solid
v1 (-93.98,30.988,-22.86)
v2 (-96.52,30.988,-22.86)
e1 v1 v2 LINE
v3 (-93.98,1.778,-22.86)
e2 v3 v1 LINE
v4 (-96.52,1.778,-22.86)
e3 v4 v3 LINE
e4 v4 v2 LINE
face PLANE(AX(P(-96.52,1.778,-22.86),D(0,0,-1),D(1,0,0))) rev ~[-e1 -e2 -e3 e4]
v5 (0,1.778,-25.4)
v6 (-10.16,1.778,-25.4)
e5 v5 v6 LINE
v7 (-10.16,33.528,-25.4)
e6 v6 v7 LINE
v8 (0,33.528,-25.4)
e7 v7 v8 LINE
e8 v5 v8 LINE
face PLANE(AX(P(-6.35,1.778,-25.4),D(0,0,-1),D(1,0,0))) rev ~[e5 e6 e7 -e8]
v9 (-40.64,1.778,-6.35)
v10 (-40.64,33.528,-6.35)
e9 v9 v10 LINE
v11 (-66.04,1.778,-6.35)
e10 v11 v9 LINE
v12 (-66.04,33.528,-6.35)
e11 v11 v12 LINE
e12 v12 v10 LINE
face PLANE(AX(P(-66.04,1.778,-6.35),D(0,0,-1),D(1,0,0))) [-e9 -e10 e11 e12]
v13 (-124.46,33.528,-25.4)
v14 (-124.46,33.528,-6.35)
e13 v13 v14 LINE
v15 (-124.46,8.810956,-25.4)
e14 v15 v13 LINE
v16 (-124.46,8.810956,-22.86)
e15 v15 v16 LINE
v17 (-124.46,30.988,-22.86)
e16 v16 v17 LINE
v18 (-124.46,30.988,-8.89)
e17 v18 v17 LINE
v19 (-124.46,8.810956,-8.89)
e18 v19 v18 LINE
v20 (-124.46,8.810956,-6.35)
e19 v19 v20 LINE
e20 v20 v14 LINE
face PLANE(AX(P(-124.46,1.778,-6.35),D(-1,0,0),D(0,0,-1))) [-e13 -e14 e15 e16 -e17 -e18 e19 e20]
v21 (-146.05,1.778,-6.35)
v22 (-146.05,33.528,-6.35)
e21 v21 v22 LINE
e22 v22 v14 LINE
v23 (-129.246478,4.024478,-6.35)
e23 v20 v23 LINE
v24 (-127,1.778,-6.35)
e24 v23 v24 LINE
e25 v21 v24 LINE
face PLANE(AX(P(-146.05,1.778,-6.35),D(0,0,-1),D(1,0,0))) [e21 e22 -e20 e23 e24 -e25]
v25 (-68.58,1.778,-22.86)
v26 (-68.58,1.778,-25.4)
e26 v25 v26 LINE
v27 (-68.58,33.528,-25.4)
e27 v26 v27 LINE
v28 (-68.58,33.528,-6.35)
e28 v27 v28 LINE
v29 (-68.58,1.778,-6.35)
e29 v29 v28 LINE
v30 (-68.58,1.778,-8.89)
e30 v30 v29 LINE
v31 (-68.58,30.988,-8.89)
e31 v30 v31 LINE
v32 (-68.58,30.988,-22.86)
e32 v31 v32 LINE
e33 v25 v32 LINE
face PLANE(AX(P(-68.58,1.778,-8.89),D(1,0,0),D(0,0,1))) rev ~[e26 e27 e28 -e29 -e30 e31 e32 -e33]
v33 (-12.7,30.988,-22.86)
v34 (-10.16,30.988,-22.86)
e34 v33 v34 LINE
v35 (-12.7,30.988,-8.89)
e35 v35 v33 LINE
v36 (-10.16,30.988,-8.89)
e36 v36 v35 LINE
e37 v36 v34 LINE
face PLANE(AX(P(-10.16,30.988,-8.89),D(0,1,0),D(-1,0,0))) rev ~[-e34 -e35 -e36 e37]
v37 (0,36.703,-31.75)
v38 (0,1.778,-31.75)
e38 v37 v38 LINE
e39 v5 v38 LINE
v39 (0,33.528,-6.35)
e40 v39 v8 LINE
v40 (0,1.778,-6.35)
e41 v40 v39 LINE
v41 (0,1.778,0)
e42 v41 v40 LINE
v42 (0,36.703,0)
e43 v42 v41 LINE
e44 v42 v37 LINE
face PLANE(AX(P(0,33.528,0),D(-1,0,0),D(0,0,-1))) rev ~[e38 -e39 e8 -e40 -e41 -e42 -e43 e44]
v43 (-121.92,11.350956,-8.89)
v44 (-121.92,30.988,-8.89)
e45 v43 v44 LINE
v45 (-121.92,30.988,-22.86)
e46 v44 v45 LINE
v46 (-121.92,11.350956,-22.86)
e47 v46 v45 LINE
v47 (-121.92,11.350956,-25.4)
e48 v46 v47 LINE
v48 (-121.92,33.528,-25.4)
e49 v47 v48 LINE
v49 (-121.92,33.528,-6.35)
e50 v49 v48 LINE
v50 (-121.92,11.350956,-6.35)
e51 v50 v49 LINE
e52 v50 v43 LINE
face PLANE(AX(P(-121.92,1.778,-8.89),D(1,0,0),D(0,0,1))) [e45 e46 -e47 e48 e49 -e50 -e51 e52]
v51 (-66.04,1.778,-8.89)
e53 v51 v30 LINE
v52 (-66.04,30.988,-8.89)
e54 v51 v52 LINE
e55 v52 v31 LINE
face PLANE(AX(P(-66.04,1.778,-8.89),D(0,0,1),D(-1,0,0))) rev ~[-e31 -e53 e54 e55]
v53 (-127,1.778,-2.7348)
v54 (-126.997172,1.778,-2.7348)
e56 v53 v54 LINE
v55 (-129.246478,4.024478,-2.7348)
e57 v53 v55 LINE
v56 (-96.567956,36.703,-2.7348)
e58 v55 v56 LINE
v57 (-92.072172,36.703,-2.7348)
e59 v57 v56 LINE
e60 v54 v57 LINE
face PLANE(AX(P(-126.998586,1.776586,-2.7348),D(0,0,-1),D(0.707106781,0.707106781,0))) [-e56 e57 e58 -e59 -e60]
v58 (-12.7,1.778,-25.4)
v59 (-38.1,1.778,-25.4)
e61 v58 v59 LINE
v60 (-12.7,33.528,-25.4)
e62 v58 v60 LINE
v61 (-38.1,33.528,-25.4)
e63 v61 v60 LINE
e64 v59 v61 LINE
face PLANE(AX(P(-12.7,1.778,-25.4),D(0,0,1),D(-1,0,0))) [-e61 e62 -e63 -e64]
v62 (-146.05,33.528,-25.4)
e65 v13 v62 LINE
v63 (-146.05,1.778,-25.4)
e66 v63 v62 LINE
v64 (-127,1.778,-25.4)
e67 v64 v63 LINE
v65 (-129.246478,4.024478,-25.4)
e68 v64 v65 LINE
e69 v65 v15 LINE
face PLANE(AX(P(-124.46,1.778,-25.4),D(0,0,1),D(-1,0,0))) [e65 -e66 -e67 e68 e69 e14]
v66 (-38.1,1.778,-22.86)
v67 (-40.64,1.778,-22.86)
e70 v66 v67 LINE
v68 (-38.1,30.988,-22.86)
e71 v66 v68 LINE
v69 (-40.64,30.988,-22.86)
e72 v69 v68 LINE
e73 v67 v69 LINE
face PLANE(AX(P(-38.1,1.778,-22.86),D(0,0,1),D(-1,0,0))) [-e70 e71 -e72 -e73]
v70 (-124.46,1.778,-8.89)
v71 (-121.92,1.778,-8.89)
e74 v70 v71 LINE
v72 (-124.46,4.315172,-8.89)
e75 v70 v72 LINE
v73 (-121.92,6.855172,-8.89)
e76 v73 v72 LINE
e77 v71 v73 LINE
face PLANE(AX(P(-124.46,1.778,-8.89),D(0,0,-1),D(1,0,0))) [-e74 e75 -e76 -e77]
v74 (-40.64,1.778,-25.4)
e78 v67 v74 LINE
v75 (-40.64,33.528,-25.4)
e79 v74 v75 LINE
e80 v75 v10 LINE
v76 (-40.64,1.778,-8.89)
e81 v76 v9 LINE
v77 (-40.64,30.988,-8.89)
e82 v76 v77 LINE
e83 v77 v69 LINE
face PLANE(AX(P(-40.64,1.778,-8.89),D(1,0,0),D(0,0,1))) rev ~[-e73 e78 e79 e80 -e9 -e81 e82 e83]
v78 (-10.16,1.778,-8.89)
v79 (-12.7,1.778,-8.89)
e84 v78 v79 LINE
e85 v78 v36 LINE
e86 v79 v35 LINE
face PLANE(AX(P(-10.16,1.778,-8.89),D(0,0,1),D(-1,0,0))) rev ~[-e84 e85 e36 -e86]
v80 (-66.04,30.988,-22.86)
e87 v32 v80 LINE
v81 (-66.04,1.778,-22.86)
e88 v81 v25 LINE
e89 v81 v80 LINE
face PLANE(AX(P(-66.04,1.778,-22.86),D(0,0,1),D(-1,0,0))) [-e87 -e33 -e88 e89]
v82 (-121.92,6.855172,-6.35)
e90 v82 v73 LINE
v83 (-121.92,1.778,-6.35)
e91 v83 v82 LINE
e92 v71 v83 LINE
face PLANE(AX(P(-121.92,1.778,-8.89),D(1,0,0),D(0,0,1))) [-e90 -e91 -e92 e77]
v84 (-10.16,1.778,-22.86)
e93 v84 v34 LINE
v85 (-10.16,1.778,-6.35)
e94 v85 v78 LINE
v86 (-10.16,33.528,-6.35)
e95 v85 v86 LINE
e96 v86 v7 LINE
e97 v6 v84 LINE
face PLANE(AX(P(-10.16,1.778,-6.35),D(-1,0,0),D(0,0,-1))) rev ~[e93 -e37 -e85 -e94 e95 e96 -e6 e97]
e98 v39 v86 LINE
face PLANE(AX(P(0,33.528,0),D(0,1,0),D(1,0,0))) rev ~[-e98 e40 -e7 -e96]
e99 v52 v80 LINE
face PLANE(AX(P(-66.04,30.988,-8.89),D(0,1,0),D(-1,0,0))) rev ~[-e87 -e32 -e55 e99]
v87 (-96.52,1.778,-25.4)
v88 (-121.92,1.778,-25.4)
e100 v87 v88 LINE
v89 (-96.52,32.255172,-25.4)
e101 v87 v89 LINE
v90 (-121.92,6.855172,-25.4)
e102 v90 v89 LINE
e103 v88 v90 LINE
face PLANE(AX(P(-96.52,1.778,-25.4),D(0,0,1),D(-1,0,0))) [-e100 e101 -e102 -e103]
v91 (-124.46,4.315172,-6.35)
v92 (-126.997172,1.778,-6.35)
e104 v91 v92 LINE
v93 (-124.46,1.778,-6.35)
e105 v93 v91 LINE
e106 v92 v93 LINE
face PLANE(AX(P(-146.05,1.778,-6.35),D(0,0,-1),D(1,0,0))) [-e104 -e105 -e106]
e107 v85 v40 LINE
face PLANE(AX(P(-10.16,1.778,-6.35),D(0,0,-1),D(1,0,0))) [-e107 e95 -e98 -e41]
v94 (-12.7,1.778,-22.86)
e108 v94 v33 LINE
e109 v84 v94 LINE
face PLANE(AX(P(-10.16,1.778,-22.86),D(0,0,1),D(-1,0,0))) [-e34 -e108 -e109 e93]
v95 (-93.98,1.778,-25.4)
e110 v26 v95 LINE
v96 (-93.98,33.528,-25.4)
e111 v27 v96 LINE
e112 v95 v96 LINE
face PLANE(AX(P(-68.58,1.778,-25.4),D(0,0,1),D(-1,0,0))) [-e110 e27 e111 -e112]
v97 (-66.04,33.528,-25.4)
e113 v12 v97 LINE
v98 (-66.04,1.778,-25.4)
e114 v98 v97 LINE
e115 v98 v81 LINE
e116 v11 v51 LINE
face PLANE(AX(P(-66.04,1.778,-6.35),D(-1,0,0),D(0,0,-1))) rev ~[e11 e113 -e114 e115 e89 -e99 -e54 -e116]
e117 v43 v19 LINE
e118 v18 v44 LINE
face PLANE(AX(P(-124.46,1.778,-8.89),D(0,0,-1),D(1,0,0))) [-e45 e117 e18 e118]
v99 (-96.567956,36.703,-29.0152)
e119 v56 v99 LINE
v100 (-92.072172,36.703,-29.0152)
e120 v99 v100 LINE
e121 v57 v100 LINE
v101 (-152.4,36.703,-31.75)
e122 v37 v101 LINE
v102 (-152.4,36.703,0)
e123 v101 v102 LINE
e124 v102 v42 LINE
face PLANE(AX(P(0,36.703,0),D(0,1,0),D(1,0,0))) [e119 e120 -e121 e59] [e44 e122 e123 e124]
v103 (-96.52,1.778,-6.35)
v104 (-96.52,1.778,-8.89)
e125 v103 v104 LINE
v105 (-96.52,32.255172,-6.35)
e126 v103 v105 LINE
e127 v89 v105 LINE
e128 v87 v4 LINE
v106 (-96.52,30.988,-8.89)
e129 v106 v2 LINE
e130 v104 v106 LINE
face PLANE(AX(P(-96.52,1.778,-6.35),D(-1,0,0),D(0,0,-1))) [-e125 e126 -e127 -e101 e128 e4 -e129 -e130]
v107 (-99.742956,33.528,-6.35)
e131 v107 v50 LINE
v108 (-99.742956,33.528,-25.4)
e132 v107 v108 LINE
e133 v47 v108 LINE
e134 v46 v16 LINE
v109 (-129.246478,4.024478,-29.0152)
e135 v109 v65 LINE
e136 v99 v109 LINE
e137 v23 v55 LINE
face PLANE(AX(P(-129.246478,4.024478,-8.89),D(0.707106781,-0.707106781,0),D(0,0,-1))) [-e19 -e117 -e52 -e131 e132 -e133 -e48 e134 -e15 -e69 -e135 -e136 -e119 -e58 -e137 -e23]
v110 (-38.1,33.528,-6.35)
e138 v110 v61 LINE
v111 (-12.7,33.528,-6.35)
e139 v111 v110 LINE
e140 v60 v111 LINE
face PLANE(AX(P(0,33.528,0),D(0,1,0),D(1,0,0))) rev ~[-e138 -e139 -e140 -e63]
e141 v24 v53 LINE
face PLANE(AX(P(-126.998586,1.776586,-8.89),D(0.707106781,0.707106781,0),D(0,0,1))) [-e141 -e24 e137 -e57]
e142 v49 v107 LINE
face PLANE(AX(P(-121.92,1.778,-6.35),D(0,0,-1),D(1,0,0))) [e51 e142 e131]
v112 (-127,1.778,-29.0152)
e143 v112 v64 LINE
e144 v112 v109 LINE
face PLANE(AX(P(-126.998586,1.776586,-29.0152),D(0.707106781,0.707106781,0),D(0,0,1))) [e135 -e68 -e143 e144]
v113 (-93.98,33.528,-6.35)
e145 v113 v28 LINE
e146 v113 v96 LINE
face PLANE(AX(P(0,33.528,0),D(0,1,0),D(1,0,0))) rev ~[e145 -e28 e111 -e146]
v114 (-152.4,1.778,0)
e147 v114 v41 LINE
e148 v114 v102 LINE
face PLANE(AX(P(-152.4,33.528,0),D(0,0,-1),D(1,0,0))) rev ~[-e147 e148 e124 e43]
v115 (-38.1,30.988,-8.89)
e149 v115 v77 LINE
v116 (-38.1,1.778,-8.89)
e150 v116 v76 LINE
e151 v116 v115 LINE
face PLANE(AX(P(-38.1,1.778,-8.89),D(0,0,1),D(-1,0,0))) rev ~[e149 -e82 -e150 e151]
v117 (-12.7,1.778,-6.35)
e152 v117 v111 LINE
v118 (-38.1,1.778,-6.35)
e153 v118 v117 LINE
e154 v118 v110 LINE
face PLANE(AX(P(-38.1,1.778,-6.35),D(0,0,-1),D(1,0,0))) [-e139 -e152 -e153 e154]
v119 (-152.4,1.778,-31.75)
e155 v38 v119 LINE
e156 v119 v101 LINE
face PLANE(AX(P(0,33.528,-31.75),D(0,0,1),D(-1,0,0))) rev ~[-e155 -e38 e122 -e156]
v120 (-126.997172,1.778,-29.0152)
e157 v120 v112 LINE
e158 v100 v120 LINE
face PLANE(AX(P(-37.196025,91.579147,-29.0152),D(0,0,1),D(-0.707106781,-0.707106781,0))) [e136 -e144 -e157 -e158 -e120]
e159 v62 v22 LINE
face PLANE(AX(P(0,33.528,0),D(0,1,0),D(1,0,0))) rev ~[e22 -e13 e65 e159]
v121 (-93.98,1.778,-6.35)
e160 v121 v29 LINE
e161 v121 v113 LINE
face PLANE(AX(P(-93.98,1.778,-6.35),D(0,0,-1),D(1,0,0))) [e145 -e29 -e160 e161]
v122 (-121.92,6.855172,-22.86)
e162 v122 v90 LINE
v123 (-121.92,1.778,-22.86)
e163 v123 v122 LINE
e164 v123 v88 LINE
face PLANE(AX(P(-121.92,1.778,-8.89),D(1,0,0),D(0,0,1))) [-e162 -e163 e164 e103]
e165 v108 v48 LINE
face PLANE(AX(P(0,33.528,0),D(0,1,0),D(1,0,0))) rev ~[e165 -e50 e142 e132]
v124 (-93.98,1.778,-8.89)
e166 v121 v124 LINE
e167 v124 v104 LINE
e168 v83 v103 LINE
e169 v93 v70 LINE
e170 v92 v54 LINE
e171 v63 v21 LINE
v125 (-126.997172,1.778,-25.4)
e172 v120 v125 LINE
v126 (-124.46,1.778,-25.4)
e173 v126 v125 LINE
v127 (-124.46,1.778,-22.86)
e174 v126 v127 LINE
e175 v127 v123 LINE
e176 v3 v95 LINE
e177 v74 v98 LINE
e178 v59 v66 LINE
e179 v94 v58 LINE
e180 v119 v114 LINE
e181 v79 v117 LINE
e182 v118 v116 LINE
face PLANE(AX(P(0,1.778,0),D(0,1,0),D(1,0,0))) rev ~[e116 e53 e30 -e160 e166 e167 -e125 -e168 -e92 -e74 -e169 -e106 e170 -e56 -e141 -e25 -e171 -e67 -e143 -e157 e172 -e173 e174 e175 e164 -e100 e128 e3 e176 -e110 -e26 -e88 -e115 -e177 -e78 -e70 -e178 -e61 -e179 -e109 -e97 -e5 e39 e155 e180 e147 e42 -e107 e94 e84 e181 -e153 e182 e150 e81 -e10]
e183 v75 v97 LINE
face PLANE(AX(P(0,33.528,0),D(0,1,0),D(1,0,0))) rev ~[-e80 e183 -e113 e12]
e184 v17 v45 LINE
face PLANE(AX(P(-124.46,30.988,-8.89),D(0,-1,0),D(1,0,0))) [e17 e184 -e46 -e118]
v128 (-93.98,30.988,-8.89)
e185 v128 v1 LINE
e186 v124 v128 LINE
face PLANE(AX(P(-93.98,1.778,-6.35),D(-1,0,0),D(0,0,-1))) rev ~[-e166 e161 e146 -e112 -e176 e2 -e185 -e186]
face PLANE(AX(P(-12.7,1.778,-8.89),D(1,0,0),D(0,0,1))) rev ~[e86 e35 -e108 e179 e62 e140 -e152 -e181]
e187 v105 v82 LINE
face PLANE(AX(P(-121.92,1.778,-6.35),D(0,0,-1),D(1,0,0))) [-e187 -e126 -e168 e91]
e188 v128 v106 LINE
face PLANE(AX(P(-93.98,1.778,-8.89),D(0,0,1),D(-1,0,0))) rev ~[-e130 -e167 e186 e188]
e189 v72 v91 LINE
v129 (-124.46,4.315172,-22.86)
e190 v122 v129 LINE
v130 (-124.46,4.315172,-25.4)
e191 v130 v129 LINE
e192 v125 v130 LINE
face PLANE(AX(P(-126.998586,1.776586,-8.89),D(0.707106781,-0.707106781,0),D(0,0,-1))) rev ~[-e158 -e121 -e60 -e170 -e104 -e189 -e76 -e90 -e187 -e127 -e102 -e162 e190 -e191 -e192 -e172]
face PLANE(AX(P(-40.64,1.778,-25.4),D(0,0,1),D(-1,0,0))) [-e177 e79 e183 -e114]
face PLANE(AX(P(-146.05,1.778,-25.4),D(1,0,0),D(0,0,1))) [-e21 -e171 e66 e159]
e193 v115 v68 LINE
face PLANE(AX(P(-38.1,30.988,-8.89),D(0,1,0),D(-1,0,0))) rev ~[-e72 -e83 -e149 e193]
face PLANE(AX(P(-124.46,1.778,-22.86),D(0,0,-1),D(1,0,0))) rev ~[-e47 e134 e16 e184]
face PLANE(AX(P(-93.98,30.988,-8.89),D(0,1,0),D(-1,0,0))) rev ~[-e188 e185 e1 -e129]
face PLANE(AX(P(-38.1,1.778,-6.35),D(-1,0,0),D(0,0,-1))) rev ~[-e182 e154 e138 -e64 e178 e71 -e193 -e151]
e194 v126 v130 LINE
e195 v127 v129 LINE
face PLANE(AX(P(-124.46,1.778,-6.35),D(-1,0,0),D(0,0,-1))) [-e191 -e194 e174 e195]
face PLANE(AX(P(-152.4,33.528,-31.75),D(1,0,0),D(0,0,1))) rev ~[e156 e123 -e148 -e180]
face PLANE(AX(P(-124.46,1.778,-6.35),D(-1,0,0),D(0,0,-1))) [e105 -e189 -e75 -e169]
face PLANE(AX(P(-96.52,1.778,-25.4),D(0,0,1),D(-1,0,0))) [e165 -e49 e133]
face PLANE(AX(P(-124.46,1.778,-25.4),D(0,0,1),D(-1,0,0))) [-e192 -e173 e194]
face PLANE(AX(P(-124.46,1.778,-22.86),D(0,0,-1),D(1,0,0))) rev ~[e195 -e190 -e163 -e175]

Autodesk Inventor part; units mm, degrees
ref_plane "YZ Plane" through (0, 0, 0) normal (1, 0, 0) x (0, 1, 0)
ref_plane "XZ Plane" through (0, 0, 0) normal (0, 1, 0) x (-1, 0, 0)
ref_plane "XY Plane" through (0, 0, 0) normal (0, 0, 1) x (1, 0, 0)
sketch "Sketch1" plane through (0, 0, 0) normal (0, 1, 0) x (-1, 0, 0)
  line L0 (0, 0) -> (152.4, 0)
  line L1 (152.4, 0) -> (152.4, -31.75)
  line L2 (152.4, -31.75) -> (0, -31.75)
  line L3 (0, -31.75) -> (0, 0)
  line L4 (127, -8.89) -> (96.52, -8.89)
  line L5 (96.52, -8.89) -> (96.52, -22.86)
  line L6 (96.52, -22.86) -> (127, -22.86)
  line L7 (127, -22.86) -> (127, -8.89)
  line L8 (117.2368, -8.89) -> (117.2368, 0)
  line L9 (117.2368, -22.86) -> (117.2368, -31.75)
  dimension "d0" = 152.4
  dimension "d1" = 31.75
  dimension "d2" = 30.48
  dimension "d3" = 13.97
  dimension "d4" = 25.4
extrude "Extrusion1" add sketch "Sketch1" along normal blind 1.778 contours L0 L8 L4 L5 L6 L9 L2 L3 | L0 L1 L2 L9 L6 L7 L4 L8
sketch "Sketch2" plane through (0, 0, 0) normal (0, -1, 0) x (1, 0, 0)
  line L0 (-152.4, 0) -> (0, 0) projected
  line L1 (0, 0) -> (0, -31.75) projected
  line L2 (-152.4, 0) -> (0, 0)
  line L3 (0, 0) -> (0, -31.75)
  line L4 (0, -31.75) -> (-152.4, -31.75)
  line L5 (-152.4, -31.75) -> (-152.4, 0)
  line L6 (-127, -2.7348) -> (-96.52, -2.7348)
  line L7 (-96.52, -2.7348) -> (-96.52, -29.0152)
  line L8 (-96.52, -29.0152) -> (-127, -29.0152)
  line L9 (-127, -29.0152) -> (-127, -2.7348)
  line L10 (-127, -8.89) -> (-127, -22.86) projected
  line L11 (-103.8171, -2.7348) -> (-103.8171, 0)
  line L12 (-104.7941, -29.0152) -> (-104.7941, -31.75)
  line L13 (0, -31.75) -> (-152.4, -31.75) projected
  dimension "d7" = 30.48
  dimension "d8" = 0
extrude "Extrusion2" add sketch "Sketch2" along normal blind 1.778 contours L0 L11 L6 L9 L8 L12 L4 L5 | L0 L1 L4 L12 L8 L7 L6 L11
sketch "Sketch3" plane through (0, -1.778, 0) normal (0, -1, 0) x (1, 0, 0)
  line L0 (-152.4, 0) -> (0, 0) projected
  line L1 (0, -31.75) -> (-152.4, -31.75) projected
  line L2 (-152.4, 0) -> (0, 0)
  line L3 (0, 0) -> (0, -31.75)
  line L4 (0, -31.75) -> (-152.4, -31.75)
  line L5 (-152.4, -31.75) -> (-152.4, 0)
  line L6 (-1.5875, -30.1625) -> (-1.5875, -1.5875)
  line L7 (-1.5875, -1.5875) -> (-150.8125, -1.5875)
  line L8 (-150.8125, -1.5875) -> (-150.8125, -30.1625)
  line L9 (-150.8125, -30.1625) -> (-1.5875, -30.1625)
  dimension "d11" = 1.5875
extrude "Extrusion3" add sketch "Sketch3" along normal blind 6.35
sketch "Sketch4" plane through (0, 1.778, 0) normal (0, 1, 0) x (1, 0, 0)
  line L0 (-152.4, 0) -> (0, 0) projected
  line L1 (-152.4, 31.75) -> (-152.4, 0) projected
  line L2 (0, 0) -> (-152.4, 0)
  line L3 (-152.4, 0) -> (-152.4, 31.75)
  line L4 (-152.4, 31.75) -> (0, 31.75)
  line L5 (-6.35, 25.4) -> (-146.05, 25.4)
  line L6 (-146.05, 25.4) -> (-146.05, 6.35)
  line L7 (-146.05, 6.35) -> (-6.35, 6.35)
  line L8 (-13.5859, 25.4) -> (0, 25.4)
  line L9 (0, 0) -> (0, 31.75) projected
  line L10 (-13.5859, 6.35) -> (0, 6.35)
  line L11 (0, 31.75) -> (0, 25.4)
  line L12 (0, 6.35) -> (0, 0)
  line L13 (-127, 22.86) -> (-96.52, 22.86) projected
  line L14 (-96.52, 22.86) -> (-93.98, 22.86)
  line L15 (-93.98, 22.86) -> (-93.98, 25.4)
  line L16 (-93.98, 25.4) -> (-96.52, 25.4)
  line L17 (-96.52, 25.4) -> (-96.52, 22.86)
  line L18 (-96.52, 2.7348) -> (-96.52, 29.0152) projected
  line L19 (-96.52, 6.35) -> (-93.98, 6.35)
  line L20 (-93.98, 6.35) -> (-93.98, 8.89)
  line L21 (-93.98, 8.89) -> (-96.52, 8.89)
  line L22 (-96.52, 8.89) -> (-96.52, 6.35)
  line L23 (-121.92, 25.4) -> (-124.46, 25.4)
  line L24 (-124.46, 25.4) -> (-124.46, 22.86)
  line L25 (-124.46, 22.86) -> (-121.92, 22.86)
  line L26 (-121.92, 22.86) -> (-121.92, 25.4)
  line L27 (-121.92, 6.35) -> (-124.46, 6.35)
  line L28 (-124.46, 6.35) -> (-124.46, 8.89)
  line L29 (-124.46, 8.89) -> (-121.92, 8.89)
  line L30 (-121.92, 8.89) -> (-121.92, 6.35)
  line L31 (-68.58, 25.4) -> (-66.04, 25.4)
  line L32 (-66.04, 25.4) -> (-66.04, 22.86)
  line L33 (-66.04, 22.86) -> (-68.58, 22.86)
  line L34 (-68.58, 22.86) -> (-68.58, 25.4)
  line L35 (-68.58, 6.35) -> (-66.04, 6.35)
  line L36 (-66.04, 6.35) -> (-66.04, 8.89)
  line L37 (-66.04, 8.89) -> (-68.58, 8.89)
  line L38 (-68.58, 8.89) -> (-68.58, 6.35)
  line L39 (-40.64, 6.35) -> (-38.1, 6.35)
  line L40 (-38.1, 6.35) -> (-38.1, 8.89)
  line L41 (-38.1, 8.89) -> (-40.64, 8.89)
  line L42 (-40.64, 8.89) -> (-40.64, 6.35)
  line L43 (-40.64, 25.4) -> (-38.1, 25.4)
  line L44 (-38.1, 25.4) -> (-38.1, 22.86)
  line L45 (-38.1, 22.86) -> (-40.64, 22.86)
  line L46 (-40.64, 22.86) -> (-40.64, 25.4)
  line L47 (-12.7, 25.4) -> (-10.16, 25.4)
  line L48 (-10.16, 25.4) -> (-10.16, 22.86)
  line L49 (-10.16, 22.86) -> (-12.7, 22.86)
  line L50 (-12.7, 22.86) -> (-12.7, 25.4)
  line L51 (-12.7, 6.35) -> (-10.16, 6.35)
  line L52 (-10.16, 6.35) -> (-10.16, 8.89)
  line L53 (-10.16, 8.89) -> (-12.7, 8.89)
  line L54 (-12.7, 8.89) -> (-12.7, 6.35)
  point P0 (-121.92, 7.62)
  point P1 (-96.52, 7.62)
  point P2 (-93.98, 24.13)
  point P3 (-68.58, 24.13)
  point P4 (-40.64, 24.13)
  point P5 (-66.04, 24.13)
  point P6 (-12.7, 24.13)
  point P7 (-38.1, 24.13)
  point P8 (-6.35, 6.35)
  dimension "d14" = 6.35
  dimension "d15" = 2.54
  dimension "d16" = 2.54
  dimension "d17" = 2.54
  dimension "d18" = 2.54
  dimension "d19" = 2.54
  dimension "d20" = 2.54
  dimension "d21" = 25.4
  dimension "d22" = 2.54
  dimension "d23" = 2.54
  dimension "d24" = 2.54
  dimension "d25" = 2.54
  dimension "d26" = 2.54
  dimension "d27" = 2.54
  dimension "d28" = 2.54
  dimension "d29" = 2.54
  dimension "d30" = 2.54
  dimension "d31" = 2.54
  dimension "d32" = 2.54
  dimension "d33" = 2.54
  dimension "d34" = 25.4
  dimension "d35" = 25.4
  dimension "d36" = 25.4
extrude "Extrusion4" add sketch "Sketch4" along normal blind 31.75 contours L1 L4 L9 L8 L5 L6 L7 L10 L0 | L7 L54 L53 L52 | L48 L49 L50 L5 | L7 L42 L41 L40 | L44 L45 L46 L5 | L7 L38 L37 L36 | L32 L33 L34 L5 | L7 L18 L21 L20 | L15 L14 L17 L5 | L7 L28 L29 L30 | L26 L13 L24 L5
sketch "Sketch5" plane through (-93.98, 1.778, -8.89) normal (0, 0, -1) x (-1, 0, 0)
  line L0 (2.54, 31.75) -> (0, 31.75)
  line L1 (0, 31.75) -> (0, 29.21)
  line L2 (0, 29.21) -> (2.54, 29.21)
  line L3 (2.54, 29.21) -> (2.54, 31.75)
  line L4 (30.48, 31.75) -> (27.94, 31.75) projected
  line L5 (30.48, 0) -> (30.48, 31.75) projected
  line L6 (27.94, 31.75) -> (30.48, 31.75)
  line L7 (30.48, 31.75) -> (30.48, 29.21)
  line L8 (30.48, 29.21) -> (27.94, 29.21)
  line L9 (27.94, 29.21) -> (27.94, 31.75)
  line L10 (-27.94, 0) -> (-27.94, 31.75) projected
  line L11 (-25.4, 0) -> (-25.4, 31.75) projected
  line L12 (-27.94, 29.21) -> (-25.4, 29.21)
  line L13 (-25.4, 29.21) -> (-25.4, 31.75)
  line L14 (-25.4, 31.75) -> (-27.94, 31.75)
  line L15 (-27.94, 31.75) -> (-27.94, 29.21)
  line L16 (-93.98, 31.75) -> (58.42, 31.75) projected
  line L17 (-27.94, 31.75) -> (-25.4, 31.75)
  line L18 (-25.4, 31.75) -> (-25.4, 29.21)
  line L19 (-25.4, 29.21) -> (-27.94, 29.21)
  line L20 (-27.94, 29.21) -> (-27.94, 31.75)
  line L21 (-53.34, 31.75) -> (-55.88, 31.75)
  line L22 (-55.88, 31.75) -> (-55.88, 29.21)
  line L23 (-55.88, 29.21) -> (-53.34, 29.21)
  line L24 (-53.34, 29.21) -> (-53.34, 31.75)
  line L25 (-81.28, 31.75) -> (-83.82, 31.75)
  line L26 (-83.82, 31.75) -> (-83.82, 29.21)
  line L27 (-83.82, 29.21) -> (-81.28, 29.21)
  line L28 (-81.28, 29.21) -> (-81.28, 31.75)
  line L29 (30.48, 31.75) -> (52.07, 31.75) projected
  line L30 (30.48, 31.75) -> (27.94, 31.75)
  line L31 (27.94, 31.75) -> (27.94, 29.21)
  line L32 (27.94, 29.21) -> (30.48, 29.21)
  line L33 (30.48, 29.21) -> (30.48, 31.75)
  point P0 (-93.98, -1.778)
  point P1 (0, 30.48)
  point P2 (-25.4, 30.48)
  point P3 (-27.94, 30.48)
  point P4 (-53.34, 30.48)
  point P5 (-81.28, 30.48)
  point P6 (-55.88, 30.48)
  point P7 (27.94, 30.48)
  point P8 (2.54, 30.48)
  dimension "d39" = 2.54
  dimension "d40" = 2.54
  dimension "d41" = 2.54
  dimension "d42" = 2.54
  dimension "d43" = 2.54
  dimension "d44" = 2.54
  dimension "d45" = 25.4
  dimension "d46" = 25.4
  dimension "d47" = 2.54
  dimension "d48" = 2.54
  dimension "d49" = 25.4
  dimension "d50" = 2.54
  dimension "d51" = 2.54
  dimension "d52" = 25.4
extrude "Extrusion5" add sketch "Sketch5" along normal up to next
sketch "Sketch6" plane through (0, 33.528, 0) normal (0, 1, 0) x (1, 0, 0)
  line L0 (-152.4, 31.75) -> (-152.4, 0) projected
  line L1 (0, 31.75) -> (-152.4, 31.75) projected
  line L2 (-152.4, 0) -> (0, 0)
  line L3 (0, 0) -> (0, 31.75)
  line L4 (0, 31.75) -> (-152.4, 31.75)
  line L5 (-152.4, 31.75) -> (-152.4, 0)
extrude "Extrusion6" add sketch "Sketch6" along normal blind 3.175
ref_plane "Work Plane1" through (-127, 1.778, -8.89) normal (0.7071, -0.7071, 0) x (0, 0, -1)
sketch "Sketch7" plane through (-127, 1.778, -8.89) normal (0.7071, -0.7071, 0) x (0, 0, -1)
  line L0 (20.1252, -1.2572) -> (20.1252, 20.2954) projected
  line L1 (20.1252, 0) -> (-6.1552, 0)
  line L2 (-6.1552, 0) -> (-6.1552, 127)
  line L3 (-6.1552, 127) -> (20.1252, 127)
  line L4 (20.1252, 127) -> (20.1252, 0)
  line L5 (0, 0) -> (13.97, 0) projected
  point P0 (-8.89, 88.5453)
  point P1 (20.1252, 20.2954)
  dimension "d58" = 0
  dimension "d59" = 127
extrude "Extrusion7" cut sketch "Sketch7" against normal blind 3.175
sketch "Sketch8" plane through (0, 1.778, 0) normal (0, 1, 0) x (1, 0, 0)
  line L0 (63.8737, 171.7375) -> (-193.0507, 171.7375)
  line L1 (-193.0507, 171.7375) -> (-193.0507, -76.4775)
  line L2 (-193.0507, -76.4775) -> (63.8737, -76.4775)
  line L3 (63.8737, -76.4775) -> (63.8737, 171.7375)
  point P0 (0, 0)
extrude "Extrusion8" cut sketch "Sketch8" against normal through all
properties part number "Top"
